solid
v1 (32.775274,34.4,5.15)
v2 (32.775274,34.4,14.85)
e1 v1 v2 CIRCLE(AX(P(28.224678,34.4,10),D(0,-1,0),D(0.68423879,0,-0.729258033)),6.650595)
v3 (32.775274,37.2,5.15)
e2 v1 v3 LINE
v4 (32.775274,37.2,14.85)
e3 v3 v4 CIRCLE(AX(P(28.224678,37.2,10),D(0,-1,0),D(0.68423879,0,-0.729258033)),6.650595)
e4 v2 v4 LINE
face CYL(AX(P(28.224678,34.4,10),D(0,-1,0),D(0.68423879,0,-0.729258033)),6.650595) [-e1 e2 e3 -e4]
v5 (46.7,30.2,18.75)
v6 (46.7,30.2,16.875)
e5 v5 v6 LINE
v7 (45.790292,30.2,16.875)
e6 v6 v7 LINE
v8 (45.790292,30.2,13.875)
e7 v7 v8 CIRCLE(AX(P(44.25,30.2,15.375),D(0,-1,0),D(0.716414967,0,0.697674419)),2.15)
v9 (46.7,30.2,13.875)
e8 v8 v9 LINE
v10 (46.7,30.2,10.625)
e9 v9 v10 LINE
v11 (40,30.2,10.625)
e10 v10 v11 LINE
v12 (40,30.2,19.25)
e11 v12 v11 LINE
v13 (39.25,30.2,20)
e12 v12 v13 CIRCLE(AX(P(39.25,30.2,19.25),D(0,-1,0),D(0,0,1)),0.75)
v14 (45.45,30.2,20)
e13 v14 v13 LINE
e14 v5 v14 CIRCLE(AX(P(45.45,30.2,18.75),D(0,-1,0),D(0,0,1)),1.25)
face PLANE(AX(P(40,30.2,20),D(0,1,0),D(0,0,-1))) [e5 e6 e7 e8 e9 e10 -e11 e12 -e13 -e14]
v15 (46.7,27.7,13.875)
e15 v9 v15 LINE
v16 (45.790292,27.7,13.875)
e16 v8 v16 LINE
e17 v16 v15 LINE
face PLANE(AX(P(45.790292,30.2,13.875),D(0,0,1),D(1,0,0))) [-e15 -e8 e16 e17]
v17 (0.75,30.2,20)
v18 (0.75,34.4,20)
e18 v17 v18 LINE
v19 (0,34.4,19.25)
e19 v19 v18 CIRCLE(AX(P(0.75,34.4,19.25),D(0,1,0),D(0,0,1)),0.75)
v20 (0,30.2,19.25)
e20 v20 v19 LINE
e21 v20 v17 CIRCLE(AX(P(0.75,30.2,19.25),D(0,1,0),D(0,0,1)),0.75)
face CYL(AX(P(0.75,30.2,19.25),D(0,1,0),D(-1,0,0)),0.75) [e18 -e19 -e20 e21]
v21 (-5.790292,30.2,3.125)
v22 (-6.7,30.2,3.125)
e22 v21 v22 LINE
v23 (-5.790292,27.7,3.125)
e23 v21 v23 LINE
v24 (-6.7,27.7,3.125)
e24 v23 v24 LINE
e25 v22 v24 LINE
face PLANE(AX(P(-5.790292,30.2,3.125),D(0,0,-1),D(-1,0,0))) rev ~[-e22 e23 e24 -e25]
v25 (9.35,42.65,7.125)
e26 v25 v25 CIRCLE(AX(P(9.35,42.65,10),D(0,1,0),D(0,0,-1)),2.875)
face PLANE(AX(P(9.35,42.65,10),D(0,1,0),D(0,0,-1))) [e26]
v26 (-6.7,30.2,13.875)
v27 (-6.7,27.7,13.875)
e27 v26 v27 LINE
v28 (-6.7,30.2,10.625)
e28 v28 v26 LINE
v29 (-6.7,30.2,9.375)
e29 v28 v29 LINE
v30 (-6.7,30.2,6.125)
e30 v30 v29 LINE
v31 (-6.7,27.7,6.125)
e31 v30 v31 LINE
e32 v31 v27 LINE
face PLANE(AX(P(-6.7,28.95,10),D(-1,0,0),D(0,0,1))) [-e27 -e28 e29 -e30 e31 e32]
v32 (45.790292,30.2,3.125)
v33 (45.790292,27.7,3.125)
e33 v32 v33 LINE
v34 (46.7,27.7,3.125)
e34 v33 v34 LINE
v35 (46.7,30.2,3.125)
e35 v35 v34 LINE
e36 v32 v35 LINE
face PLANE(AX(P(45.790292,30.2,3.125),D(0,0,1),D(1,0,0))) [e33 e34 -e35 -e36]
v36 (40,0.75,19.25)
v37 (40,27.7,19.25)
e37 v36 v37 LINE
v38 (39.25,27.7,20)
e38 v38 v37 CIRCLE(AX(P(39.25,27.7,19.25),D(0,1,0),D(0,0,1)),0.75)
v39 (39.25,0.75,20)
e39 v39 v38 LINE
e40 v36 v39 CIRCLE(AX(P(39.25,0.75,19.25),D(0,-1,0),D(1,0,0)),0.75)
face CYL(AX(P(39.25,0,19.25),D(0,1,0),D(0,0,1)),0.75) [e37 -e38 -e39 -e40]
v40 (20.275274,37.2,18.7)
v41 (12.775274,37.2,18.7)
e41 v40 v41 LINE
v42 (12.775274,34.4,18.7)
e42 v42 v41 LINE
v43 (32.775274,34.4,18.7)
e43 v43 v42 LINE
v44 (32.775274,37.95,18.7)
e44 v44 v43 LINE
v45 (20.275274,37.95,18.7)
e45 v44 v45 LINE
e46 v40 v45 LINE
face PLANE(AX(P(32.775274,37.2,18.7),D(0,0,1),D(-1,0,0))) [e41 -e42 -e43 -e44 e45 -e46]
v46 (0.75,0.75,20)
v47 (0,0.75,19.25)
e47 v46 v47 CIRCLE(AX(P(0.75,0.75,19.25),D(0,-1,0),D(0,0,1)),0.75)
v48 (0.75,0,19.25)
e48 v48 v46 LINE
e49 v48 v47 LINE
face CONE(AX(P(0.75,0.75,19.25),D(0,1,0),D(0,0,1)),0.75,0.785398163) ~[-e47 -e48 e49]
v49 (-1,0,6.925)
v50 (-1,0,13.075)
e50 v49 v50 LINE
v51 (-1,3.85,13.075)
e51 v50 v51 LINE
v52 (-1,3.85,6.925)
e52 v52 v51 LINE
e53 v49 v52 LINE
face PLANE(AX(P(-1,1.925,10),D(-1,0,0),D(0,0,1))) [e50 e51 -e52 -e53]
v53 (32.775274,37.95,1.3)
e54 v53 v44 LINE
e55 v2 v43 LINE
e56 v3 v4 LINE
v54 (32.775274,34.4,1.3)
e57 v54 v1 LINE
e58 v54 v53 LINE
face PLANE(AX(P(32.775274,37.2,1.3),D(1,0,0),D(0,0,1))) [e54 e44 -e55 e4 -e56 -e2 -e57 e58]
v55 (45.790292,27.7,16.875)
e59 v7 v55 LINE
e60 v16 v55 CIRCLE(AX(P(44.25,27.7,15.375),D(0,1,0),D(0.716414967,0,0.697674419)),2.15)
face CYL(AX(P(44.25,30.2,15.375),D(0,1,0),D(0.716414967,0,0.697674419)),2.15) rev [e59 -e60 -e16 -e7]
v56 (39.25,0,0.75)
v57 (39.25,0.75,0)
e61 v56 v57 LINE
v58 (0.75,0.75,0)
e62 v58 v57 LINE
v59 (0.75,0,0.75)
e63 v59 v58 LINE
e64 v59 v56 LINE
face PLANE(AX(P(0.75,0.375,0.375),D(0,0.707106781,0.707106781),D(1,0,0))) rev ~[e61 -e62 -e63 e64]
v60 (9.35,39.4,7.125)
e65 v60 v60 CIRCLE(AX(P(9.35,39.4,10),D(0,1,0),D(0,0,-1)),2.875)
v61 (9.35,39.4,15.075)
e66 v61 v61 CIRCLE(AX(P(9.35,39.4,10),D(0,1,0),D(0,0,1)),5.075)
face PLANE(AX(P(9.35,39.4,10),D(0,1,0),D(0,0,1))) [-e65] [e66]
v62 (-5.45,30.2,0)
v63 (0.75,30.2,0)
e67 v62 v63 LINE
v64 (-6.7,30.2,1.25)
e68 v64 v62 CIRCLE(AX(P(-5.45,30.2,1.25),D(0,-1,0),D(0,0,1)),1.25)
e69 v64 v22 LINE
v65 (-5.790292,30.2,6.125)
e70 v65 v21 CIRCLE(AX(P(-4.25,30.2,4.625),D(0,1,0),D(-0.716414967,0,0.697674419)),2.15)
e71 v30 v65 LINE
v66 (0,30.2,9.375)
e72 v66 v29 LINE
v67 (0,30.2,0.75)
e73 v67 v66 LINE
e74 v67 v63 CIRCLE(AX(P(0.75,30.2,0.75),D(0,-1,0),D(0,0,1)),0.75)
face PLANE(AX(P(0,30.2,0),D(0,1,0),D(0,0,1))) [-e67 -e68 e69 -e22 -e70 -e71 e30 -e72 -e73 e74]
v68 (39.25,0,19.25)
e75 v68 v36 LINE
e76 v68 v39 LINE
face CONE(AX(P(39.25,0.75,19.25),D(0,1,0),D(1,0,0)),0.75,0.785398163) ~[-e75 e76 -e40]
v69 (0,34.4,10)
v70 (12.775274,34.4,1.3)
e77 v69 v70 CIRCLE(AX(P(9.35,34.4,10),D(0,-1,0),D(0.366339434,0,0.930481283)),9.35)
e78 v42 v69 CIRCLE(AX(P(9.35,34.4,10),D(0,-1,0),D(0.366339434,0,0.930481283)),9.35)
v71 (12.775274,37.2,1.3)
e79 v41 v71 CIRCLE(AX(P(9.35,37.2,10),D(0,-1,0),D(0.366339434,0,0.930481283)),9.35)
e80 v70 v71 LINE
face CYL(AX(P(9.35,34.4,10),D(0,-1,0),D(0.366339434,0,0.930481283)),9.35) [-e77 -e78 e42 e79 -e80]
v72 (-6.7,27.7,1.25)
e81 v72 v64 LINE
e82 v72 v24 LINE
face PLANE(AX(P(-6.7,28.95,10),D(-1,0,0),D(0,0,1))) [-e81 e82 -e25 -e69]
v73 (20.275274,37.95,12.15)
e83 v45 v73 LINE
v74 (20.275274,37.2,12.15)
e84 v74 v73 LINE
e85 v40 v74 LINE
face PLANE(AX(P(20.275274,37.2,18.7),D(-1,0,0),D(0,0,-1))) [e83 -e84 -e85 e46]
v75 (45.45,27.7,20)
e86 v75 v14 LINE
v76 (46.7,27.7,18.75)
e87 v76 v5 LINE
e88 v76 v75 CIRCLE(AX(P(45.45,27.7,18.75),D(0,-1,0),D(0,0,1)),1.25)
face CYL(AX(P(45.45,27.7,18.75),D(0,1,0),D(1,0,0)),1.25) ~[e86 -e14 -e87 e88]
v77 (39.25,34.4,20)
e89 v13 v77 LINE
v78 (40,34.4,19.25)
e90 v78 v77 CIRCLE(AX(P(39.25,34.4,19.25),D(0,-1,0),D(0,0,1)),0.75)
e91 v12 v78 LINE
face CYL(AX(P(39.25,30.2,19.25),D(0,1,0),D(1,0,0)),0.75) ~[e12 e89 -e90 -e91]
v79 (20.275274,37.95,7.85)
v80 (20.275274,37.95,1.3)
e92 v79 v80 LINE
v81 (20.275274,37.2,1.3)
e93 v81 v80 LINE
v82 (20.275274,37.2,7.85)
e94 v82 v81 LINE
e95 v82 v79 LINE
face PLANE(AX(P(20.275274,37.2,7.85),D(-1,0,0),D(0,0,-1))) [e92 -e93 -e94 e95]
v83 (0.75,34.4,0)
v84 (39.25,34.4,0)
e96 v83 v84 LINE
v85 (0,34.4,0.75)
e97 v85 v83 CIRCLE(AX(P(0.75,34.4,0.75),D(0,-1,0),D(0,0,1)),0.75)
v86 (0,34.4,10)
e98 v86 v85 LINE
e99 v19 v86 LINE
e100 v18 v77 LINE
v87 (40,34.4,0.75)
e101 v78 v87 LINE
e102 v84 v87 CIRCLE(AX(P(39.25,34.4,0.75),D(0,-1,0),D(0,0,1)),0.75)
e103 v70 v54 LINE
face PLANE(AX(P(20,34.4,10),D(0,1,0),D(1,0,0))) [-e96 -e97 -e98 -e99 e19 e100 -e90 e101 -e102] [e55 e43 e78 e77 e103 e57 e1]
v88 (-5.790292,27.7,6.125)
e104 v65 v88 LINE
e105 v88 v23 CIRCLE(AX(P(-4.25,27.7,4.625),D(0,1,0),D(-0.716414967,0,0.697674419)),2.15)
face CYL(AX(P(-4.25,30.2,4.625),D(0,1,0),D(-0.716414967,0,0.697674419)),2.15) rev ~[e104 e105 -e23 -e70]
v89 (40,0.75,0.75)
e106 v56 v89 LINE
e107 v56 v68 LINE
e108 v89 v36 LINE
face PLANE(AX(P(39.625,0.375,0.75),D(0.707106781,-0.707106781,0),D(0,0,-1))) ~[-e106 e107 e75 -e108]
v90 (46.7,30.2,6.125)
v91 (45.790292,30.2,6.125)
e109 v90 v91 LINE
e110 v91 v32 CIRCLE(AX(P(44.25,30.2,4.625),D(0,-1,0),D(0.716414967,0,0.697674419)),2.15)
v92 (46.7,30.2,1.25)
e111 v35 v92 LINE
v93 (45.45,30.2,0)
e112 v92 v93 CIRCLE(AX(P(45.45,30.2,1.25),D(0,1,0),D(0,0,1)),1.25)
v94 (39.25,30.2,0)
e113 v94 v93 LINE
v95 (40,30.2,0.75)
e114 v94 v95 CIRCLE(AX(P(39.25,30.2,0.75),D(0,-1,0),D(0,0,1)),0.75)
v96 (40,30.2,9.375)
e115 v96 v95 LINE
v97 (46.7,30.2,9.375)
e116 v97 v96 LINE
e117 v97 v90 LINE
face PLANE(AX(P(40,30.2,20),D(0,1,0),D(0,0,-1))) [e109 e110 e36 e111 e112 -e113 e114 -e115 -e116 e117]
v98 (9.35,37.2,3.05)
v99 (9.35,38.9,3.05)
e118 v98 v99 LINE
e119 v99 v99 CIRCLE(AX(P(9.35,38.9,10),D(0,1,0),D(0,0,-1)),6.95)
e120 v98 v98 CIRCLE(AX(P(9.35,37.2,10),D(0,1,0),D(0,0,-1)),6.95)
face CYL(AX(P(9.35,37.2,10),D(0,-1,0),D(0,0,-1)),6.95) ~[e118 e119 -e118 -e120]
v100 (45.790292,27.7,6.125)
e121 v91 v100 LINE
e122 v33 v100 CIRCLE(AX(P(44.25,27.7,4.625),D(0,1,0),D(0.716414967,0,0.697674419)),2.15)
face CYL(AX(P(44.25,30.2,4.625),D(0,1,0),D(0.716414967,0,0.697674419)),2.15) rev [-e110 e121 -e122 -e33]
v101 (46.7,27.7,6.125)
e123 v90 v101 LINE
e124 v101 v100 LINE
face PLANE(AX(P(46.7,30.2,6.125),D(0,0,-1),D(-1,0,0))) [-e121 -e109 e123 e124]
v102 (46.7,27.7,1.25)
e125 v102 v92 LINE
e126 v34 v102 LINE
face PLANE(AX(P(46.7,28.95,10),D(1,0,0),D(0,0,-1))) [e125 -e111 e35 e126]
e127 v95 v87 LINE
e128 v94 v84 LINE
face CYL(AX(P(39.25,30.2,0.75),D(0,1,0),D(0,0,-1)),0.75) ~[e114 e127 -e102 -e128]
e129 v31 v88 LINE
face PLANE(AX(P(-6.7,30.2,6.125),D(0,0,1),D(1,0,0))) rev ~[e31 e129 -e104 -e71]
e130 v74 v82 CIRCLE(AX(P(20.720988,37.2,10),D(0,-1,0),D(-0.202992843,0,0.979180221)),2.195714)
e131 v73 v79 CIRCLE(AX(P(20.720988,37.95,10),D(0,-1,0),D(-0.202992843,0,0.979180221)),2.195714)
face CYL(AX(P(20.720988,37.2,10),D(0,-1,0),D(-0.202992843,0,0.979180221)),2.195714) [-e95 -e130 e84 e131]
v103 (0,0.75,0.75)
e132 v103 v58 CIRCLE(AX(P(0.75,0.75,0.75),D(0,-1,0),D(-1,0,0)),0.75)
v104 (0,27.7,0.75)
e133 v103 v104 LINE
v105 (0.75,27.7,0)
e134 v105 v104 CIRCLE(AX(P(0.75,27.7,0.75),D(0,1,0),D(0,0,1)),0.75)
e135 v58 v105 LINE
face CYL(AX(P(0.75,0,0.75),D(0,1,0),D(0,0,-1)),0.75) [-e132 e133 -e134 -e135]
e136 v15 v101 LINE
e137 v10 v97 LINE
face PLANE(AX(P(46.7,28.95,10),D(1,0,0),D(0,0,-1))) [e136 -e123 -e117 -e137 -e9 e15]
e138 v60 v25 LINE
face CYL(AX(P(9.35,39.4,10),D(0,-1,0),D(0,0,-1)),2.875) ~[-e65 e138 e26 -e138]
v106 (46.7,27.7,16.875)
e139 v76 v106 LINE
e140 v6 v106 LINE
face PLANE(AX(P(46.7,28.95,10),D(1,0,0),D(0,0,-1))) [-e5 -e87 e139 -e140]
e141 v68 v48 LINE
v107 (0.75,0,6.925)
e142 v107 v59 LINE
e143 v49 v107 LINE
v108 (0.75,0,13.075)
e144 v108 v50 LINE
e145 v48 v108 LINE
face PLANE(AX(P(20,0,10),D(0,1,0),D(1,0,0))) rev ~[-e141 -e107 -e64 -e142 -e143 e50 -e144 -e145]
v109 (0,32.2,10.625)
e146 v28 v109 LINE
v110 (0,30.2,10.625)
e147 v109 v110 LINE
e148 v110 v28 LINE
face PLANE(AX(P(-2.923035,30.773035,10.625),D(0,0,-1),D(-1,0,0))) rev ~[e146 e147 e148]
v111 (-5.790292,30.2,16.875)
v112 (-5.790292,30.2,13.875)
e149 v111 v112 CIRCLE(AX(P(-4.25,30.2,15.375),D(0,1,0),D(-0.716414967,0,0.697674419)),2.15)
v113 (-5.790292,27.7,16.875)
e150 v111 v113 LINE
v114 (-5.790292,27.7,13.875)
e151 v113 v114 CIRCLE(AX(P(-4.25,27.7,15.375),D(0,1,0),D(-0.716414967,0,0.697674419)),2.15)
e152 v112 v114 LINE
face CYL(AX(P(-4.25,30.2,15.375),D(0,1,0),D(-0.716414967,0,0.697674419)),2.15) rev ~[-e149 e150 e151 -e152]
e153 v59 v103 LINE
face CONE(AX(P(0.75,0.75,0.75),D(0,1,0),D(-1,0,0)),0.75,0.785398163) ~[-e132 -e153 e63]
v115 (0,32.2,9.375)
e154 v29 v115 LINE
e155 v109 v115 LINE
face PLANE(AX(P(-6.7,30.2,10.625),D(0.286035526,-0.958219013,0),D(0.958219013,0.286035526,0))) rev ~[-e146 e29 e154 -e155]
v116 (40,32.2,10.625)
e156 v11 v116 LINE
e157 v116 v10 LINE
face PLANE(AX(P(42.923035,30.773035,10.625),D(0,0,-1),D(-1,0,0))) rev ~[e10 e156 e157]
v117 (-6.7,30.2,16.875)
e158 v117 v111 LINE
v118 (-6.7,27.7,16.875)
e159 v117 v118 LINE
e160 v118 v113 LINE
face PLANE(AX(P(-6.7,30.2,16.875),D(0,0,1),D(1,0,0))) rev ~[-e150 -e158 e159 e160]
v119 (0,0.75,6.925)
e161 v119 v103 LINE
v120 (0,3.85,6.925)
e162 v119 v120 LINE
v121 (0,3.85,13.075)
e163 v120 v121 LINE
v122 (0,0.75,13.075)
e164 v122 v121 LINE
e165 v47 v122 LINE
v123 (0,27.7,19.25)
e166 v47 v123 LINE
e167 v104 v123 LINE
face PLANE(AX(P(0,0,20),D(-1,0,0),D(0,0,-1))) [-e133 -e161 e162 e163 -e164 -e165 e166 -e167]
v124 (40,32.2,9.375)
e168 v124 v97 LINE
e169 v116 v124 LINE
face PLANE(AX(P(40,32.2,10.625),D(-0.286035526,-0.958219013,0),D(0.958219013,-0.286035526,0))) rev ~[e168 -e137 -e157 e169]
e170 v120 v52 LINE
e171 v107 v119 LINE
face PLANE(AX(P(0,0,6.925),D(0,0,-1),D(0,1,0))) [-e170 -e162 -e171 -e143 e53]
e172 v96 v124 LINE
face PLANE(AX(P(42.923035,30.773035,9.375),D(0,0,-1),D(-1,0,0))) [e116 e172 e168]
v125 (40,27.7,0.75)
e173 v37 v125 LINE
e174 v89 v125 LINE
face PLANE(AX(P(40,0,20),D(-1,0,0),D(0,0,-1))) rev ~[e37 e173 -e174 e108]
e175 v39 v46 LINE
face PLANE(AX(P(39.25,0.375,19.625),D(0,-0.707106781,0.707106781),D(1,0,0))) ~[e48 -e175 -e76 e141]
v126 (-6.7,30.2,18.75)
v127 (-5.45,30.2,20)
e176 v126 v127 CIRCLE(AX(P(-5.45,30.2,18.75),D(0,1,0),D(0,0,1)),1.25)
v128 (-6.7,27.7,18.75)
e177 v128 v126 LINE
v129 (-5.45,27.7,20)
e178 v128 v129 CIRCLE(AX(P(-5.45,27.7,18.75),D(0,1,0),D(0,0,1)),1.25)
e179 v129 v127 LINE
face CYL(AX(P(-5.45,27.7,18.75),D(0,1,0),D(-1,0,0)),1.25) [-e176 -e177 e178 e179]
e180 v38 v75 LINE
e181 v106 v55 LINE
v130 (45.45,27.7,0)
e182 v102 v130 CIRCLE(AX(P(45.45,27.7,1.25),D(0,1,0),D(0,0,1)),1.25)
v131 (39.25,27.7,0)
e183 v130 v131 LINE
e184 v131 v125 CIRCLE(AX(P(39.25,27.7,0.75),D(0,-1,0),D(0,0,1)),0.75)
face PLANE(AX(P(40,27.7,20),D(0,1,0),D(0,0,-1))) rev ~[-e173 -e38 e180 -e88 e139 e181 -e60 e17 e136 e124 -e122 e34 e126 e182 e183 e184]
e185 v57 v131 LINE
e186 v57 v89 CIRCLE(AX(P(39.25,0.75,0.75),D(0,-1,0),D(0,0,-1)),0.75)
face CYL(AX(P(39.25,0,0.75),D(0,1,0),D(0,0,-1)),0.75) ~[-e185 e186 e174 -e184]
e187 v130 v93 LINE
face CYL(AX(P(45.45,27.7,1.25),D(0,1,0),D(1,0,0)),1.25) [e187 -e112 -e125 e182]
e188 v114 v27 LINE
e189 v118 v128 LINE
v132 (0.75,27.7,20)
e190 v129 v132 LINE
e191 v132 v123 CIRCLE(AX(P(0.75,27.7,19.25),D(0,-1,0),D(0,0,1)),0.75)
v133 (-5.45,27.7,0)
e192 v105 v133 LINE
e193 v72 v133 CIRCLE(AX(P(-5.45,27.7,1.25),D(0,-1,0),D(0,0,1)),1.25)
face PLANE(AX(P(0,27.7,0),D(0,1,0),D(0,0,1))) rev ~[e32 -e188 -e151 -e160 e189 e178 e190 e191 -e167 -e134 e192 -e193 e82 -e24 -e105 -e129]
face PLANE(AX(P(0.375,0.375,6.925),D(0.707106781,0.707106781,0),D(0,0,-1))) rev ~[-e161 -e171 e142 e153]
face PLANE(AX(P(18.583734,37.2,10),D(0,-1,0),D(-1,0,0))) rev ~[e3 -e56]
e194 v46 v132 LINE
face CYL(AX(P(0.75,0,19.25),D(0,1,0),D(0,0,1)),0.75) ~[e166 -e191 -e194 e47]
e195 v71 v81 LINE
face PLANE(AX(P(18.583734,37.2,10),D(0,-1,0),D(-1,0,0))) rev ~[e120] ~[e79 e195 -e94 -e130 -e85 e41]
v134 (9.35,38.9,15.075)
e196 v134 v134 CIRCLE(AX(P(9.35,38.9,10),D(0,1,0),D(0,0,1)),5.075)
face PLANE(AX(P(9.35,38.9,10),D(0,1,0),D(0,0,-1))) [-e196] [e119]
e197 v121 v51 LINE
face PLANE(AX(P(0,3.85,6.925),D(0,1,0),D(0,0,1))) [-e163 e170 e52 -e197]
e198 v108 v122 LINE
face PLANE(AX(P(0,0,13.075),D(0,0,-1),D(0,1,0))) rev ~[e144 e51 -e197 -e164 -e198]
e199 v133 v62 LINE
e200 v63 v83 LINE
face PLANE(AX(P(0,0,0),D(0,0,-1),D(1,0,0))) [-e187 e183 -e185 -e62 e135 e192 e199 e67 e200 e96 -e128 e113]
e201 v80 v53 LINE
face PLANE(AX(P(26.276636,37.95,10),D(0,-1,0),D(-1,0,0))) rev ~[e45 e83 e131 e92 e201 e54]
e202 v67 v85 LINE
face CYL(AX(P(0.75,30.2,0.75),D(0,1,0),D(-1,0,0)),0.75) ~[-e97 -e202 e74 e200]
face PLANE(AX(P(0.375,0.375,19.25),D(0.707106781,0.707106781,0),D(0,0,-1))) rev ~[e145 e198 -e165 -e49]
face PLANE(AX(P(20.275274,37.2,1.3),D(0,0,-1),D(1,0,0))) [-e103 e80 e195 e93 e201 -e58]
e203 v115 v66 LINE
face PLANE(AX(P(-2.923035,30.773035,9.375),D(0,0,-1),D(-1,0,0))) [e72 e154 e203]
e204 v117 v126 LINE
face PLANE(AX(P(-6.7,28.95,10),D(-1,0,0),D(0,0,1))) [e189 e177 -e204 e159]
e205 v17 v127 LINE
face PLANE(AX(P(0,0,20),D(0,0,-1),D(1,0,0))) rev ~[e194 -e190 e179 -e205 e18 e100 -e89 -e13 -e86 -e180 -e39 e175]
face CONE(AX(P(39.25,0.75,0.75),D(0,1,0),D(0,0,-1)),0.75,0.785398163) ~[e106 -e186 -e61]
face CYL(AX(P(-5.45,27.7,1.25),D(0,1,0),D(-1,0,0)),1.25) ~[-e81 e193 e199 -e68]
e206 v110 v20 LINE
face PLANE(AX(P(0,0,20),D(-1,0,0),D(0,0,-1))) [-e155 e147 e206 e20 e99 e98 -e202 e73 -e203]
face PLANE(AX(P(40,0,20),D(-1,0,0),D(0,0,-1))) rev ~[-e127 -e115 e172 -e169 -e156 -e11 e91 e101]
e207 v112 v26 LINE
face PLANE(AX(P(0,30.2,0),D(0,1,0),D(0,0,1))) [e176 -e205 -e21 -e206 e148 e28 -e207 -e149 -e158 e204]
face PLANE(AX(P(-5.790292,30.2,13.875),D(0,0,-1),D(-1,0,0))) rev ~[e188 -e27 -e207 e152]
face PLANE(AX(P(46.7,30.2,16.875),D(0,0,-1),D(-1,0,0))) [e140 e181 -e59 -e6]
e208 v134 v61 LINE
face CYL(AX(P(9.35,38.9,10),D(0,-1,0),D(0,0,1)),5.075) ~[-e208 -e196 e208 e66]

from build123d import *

# Parameters (mm, degrees)
SKETCH1_W                 = 40
SKETCH1_H                 = 20
BOSS_EXTRUDE1_DEPTH       = 34.4
BOSS_EXTRUDE2_DEPTH       = 2.8
SKETCH4_R                 = 6.95
BOSS_EXTRUDE3_DEPTH       = 1.7
SKETCH5_R                 = 5.075
BOSS_EXTRUDE4_DEPTH       = 0.5
SKETCH6_R                 = 2.875
BOSS_EXTRUDE5_DEPTH       = 3.25
BOSS_EXTRUDE6_DEPTH       = 0.75
SKETCH8_W                 = 20
SKETCH8_H                 = 2.5
BOSS_EXTRUDE7_DEPTH       = 6.7
SKETCH9_W                 = 20
SKETCH9_H                 = 2.5
BOSS_EXTRUDE8_DEPTH       = 6.7
CUT_EXTRUDE1_DEPTH        = 60.10101522
SKETCH11_W                = 6.15
SKETCH11_H                = 3.85
BOSS_EXTRUDE9_DEPTH       = 1
FILLET1_R                 = 0.75
FILLET2_R                 = 1.25
CHAMFER1_SIZE             = 0.75
BOSS_EXTRUDE10_DEPTH      = 0.625
BOSS_EXTRUDE10_DEPTH_BACK = 0.625


with BuildPart() as part:
    # Sketch1 → Boss-Extrude1 (new body)
    with BuildSketch(Plane(origin=(0, 0, 0), x_dir=(1, 0, 0), z_dir=(0, 1, 0))):
        with Locations((20, -10)):
            Rectangle(SKETCH1_W, SKETCH1_H)
    extrude(amount=BOSS_EXTRUDE1_DEPTH)

    # Sketch3 → Boss-Extrude2 (add)
    with BuildSketch(Plane(origin=(0, 34.4, 0), x_dir=(1, 0, 0), z_dir=(0, 1, 0))):
        with BuildLine():
            Line((12.775273712, -1.3), (32.775273712, -1.3))
            Line((32.775273712, -1.3), (32.775273712, -5.15))
            ThreePointArc((32.775273712, -5.15), (34.875273712, -10), (32.775273712, -14.85))
            Line((32.775273712, -14.85), (32.775273712, -18.7))
            Line((32.775273712, -18.7), (12.775273712, -18.7))
            ThreePointArc((12.775273712, -18.7), (0, -10), (12.775273712, -1.3))
        make_face()
    extrude(amount=BOSS_EXTRUDE2_DEPTH)

    # Sketch4 → Boss-Extrude3 (add)
    with BuildSketch(Plane(origin=(0, 37.2, 0), x_dir=(1, 0, 0), z_dir=(0, 1, 0))):
        with Locations(Location((9.35, -10, 0), (0, 0, 90))):
            Circle(SKETCH4_R)
    extrude(amount=BOSS_EXTRUDE3_DEPTH)

    # Sketch5 → Boss-Extrude4 (add)
    with BuildSketch(Plane(origin=(0, 38.9, 0), x_dir=(1, 0, 0), z_dir=(0, 1, 0))):
        with Locations(Location((9.35, -10, 0), (0, 0, 270))):
            Circle(SKETCH5_R)
    extrude(amount=BOSS_EXTRUDE4_DEPTH)

    # Sketch6 → Boss-Extrude5 (add)
    with BuildSketch(Plane(origin=(0, 39.4, 0), x_dir=(1, 0, 0), z_dir=(0, 1, 0))):
        with Locations(Location((9.35, -10, 0), (0, 0, 90))):
            Circle(SKETCH6_R)
    extrude(amount=BOSS_EXTRUDE5_DEPTH)

    # Sketch7 → Boss-Extrude6 (add)
    with BuildSketch(Plane(origin=(0, 37.2, 0), x_dir=(1, 0, 0), z_dir=(0, 1, 0))):
        with BuildLine():
            Line((32.775273712, -1.3), (32.775273712, -18.7))
            Line((32.775273712, -18.7), (20.275273712, -18.7))
            Line((20.275273712, -18.7), (20.275273712, -12.15))
            ThreePointArc((20.275273712, -12.15), (18.525273712, -10), (20.275273712, -7.85))
            Line((20.275273712, -7.85), (20.275273712, -1.3))
            Line((20.275273712, -1.3), (32.775273712, -1.3))
        make_face()
    extrude(amount=BOSS_EXTRUDE6_DEPTH)

    # Sketch8 → Boss-Extrude7 (add)
    with BuildSketch(Plane(origin=(40, 0, 0), x_dir=(0, 0, -1), z_dir=(1, 0, 0))):
        with Locations((-10, 28.95)):
            Rectangle(SKETCH8_W, SKETCH8_H)
    extrude(amount=BOSS_EXTRUDE7_DEPTH)

    # Sketch9 → Boss-Extrude8 (add)
    with BuildSketch(Plane.ZY):
        with Locations((10, 28.95)):
            Rectangle(SKETCH9_W, SKETCH9_H)
    extrude(amount=BOSS_EXTRUDE8_DEPTH)

    # Sketch10 → Cut-Extrude1 (cut, through all)
    with BuildSketch(Plane(origin=(0, 30.2, 0), x_dir=(1, 0, 0), z_dir=(0, 1, 0))):
        with BuildLine():
            Line((45.79029218, -3.125), (46.7, -3.125))
            Line((46.7, -3.125), (46.7, -6.125))
            Line((46.7, -6.125), (45.79029218, -6.125))
            ThreePointArc((45.79029218, -6.125), (42.1, -4.625), (45.79029218, -3.125))
        make_face()
        with BuildLine():
            Line((45.79029218, -13.875), (46.7, -13.875))
            Line((46.7, -13.875), (46.7, -16.875))
            Line((46.7, -16.875), (45.79029218, -16.875))
            ThreePointArc((45.79029218, -16.875), (42.1, -15.375), (45.79029218, -13.875))
        make_face()
        with BuildLine():
            Line((-5.79029218, -3.125), (-6.7, -3.125))
            Line((-6.7, -3.125), (-6.7, -6.125))
            Line((-6.7, -6.125), (-5.79029218, -6.125))
            ThreePointArc((-5.79029218, -6.125), (-2.1, -4.625), (-5.79029218, -3.125))
        make_face()
        with BuildLine():
            Line((-5.79029218, -13.875), (-6.7, -13.875))
            Line((-6.7, -13.875), (-6.7, -16.875))
            Line((-6.7, -16.875), (-5.79029218, -16.875))
            ThreePointArc((-5.79029218, -16.875), (-2.1, -15.375), (-5.79029218, -13.875))
        make_face()
    extrude(amount=-CUT_EXTRUDE1_DEPTH, mode=Mode.SUBTRACT)

    # Sketch11 → Boss-Extrude9 (add)
    with BuildSketch(Plane.ZY):
        with Locations((10, 1.925)):
            Rectangle(SKETCH11_W, SKETCH11_H)
    extrude(amount=BOSS_EXTRUDE9_DEPTH)

    # Fillet1
    fillet1_edges = [part.edges().sort_by_distance(p)[0] for p in [
        (40, 13.85, 0),
        (40, 13.85, 20),
        (0, 32.3, 0),
        (40, 32.3, 0),
        (40, 32.3, 20),
        (0, 13.85, 0),
        (0, 32.3, 20),
        (0, 13.85, 20),
    ]]
    fillet(fillet1_edges, radius=FILLET1_R)

    # Fillet2
    fillet2_edges = [part.edges().sort_by_distance(p)[0] for p in [
        (46.7, 28.95, 20),
        (46.7, 28.95, 0),
        (-6.7, 28.95, 0),
        (-6.7, 28.95, 20),
    ]]
    fillet(fillet2_edges, radius=FILLET2_R)

    # Chamfer1
    chamfer1_edges = [part.edges().sort_by_distance(p)[0] for p in [
        (0, 0, 16.1625),
        (0, 0, 3.8375),
        (20, 0, 0),
        (40, 0, 10),
        (20, 0, 20),
        (0.219669914, 0, 19.780330086),
        (39.780330086, 0, 19.780330086),
        (39.780330086, 0, 0.219669914),
        (0.219669914, 0, 0.219669914),
    ]]
    chamfer(chamfer1_edges, length=CHAMFER1_SIZE)

    # Sketch12 → Boss-Extrude10 (add, two sides: drawn at the far end of the back side and taken through both)
    with BuildSketch(Plane(origin=(0, 0, 10), x_dir=(-1, 0, 0), z_dir=(0, 0, -1)).offset(-BOSS_EXTRUDE10_DEPTH_BACK)):
        Polygon((-40, 32.2), (-46.7, 30.2), (-40, 30.2), align=None)
        Polygon((6.7, 30.2), (0, 32.2), (0, 30.2), align=None)
    extrude(amount=BOSS_EXTRUDE10_DEPTH + BOSS_EXTRUDE10_DEPTH_BACK)


solid = part.part
